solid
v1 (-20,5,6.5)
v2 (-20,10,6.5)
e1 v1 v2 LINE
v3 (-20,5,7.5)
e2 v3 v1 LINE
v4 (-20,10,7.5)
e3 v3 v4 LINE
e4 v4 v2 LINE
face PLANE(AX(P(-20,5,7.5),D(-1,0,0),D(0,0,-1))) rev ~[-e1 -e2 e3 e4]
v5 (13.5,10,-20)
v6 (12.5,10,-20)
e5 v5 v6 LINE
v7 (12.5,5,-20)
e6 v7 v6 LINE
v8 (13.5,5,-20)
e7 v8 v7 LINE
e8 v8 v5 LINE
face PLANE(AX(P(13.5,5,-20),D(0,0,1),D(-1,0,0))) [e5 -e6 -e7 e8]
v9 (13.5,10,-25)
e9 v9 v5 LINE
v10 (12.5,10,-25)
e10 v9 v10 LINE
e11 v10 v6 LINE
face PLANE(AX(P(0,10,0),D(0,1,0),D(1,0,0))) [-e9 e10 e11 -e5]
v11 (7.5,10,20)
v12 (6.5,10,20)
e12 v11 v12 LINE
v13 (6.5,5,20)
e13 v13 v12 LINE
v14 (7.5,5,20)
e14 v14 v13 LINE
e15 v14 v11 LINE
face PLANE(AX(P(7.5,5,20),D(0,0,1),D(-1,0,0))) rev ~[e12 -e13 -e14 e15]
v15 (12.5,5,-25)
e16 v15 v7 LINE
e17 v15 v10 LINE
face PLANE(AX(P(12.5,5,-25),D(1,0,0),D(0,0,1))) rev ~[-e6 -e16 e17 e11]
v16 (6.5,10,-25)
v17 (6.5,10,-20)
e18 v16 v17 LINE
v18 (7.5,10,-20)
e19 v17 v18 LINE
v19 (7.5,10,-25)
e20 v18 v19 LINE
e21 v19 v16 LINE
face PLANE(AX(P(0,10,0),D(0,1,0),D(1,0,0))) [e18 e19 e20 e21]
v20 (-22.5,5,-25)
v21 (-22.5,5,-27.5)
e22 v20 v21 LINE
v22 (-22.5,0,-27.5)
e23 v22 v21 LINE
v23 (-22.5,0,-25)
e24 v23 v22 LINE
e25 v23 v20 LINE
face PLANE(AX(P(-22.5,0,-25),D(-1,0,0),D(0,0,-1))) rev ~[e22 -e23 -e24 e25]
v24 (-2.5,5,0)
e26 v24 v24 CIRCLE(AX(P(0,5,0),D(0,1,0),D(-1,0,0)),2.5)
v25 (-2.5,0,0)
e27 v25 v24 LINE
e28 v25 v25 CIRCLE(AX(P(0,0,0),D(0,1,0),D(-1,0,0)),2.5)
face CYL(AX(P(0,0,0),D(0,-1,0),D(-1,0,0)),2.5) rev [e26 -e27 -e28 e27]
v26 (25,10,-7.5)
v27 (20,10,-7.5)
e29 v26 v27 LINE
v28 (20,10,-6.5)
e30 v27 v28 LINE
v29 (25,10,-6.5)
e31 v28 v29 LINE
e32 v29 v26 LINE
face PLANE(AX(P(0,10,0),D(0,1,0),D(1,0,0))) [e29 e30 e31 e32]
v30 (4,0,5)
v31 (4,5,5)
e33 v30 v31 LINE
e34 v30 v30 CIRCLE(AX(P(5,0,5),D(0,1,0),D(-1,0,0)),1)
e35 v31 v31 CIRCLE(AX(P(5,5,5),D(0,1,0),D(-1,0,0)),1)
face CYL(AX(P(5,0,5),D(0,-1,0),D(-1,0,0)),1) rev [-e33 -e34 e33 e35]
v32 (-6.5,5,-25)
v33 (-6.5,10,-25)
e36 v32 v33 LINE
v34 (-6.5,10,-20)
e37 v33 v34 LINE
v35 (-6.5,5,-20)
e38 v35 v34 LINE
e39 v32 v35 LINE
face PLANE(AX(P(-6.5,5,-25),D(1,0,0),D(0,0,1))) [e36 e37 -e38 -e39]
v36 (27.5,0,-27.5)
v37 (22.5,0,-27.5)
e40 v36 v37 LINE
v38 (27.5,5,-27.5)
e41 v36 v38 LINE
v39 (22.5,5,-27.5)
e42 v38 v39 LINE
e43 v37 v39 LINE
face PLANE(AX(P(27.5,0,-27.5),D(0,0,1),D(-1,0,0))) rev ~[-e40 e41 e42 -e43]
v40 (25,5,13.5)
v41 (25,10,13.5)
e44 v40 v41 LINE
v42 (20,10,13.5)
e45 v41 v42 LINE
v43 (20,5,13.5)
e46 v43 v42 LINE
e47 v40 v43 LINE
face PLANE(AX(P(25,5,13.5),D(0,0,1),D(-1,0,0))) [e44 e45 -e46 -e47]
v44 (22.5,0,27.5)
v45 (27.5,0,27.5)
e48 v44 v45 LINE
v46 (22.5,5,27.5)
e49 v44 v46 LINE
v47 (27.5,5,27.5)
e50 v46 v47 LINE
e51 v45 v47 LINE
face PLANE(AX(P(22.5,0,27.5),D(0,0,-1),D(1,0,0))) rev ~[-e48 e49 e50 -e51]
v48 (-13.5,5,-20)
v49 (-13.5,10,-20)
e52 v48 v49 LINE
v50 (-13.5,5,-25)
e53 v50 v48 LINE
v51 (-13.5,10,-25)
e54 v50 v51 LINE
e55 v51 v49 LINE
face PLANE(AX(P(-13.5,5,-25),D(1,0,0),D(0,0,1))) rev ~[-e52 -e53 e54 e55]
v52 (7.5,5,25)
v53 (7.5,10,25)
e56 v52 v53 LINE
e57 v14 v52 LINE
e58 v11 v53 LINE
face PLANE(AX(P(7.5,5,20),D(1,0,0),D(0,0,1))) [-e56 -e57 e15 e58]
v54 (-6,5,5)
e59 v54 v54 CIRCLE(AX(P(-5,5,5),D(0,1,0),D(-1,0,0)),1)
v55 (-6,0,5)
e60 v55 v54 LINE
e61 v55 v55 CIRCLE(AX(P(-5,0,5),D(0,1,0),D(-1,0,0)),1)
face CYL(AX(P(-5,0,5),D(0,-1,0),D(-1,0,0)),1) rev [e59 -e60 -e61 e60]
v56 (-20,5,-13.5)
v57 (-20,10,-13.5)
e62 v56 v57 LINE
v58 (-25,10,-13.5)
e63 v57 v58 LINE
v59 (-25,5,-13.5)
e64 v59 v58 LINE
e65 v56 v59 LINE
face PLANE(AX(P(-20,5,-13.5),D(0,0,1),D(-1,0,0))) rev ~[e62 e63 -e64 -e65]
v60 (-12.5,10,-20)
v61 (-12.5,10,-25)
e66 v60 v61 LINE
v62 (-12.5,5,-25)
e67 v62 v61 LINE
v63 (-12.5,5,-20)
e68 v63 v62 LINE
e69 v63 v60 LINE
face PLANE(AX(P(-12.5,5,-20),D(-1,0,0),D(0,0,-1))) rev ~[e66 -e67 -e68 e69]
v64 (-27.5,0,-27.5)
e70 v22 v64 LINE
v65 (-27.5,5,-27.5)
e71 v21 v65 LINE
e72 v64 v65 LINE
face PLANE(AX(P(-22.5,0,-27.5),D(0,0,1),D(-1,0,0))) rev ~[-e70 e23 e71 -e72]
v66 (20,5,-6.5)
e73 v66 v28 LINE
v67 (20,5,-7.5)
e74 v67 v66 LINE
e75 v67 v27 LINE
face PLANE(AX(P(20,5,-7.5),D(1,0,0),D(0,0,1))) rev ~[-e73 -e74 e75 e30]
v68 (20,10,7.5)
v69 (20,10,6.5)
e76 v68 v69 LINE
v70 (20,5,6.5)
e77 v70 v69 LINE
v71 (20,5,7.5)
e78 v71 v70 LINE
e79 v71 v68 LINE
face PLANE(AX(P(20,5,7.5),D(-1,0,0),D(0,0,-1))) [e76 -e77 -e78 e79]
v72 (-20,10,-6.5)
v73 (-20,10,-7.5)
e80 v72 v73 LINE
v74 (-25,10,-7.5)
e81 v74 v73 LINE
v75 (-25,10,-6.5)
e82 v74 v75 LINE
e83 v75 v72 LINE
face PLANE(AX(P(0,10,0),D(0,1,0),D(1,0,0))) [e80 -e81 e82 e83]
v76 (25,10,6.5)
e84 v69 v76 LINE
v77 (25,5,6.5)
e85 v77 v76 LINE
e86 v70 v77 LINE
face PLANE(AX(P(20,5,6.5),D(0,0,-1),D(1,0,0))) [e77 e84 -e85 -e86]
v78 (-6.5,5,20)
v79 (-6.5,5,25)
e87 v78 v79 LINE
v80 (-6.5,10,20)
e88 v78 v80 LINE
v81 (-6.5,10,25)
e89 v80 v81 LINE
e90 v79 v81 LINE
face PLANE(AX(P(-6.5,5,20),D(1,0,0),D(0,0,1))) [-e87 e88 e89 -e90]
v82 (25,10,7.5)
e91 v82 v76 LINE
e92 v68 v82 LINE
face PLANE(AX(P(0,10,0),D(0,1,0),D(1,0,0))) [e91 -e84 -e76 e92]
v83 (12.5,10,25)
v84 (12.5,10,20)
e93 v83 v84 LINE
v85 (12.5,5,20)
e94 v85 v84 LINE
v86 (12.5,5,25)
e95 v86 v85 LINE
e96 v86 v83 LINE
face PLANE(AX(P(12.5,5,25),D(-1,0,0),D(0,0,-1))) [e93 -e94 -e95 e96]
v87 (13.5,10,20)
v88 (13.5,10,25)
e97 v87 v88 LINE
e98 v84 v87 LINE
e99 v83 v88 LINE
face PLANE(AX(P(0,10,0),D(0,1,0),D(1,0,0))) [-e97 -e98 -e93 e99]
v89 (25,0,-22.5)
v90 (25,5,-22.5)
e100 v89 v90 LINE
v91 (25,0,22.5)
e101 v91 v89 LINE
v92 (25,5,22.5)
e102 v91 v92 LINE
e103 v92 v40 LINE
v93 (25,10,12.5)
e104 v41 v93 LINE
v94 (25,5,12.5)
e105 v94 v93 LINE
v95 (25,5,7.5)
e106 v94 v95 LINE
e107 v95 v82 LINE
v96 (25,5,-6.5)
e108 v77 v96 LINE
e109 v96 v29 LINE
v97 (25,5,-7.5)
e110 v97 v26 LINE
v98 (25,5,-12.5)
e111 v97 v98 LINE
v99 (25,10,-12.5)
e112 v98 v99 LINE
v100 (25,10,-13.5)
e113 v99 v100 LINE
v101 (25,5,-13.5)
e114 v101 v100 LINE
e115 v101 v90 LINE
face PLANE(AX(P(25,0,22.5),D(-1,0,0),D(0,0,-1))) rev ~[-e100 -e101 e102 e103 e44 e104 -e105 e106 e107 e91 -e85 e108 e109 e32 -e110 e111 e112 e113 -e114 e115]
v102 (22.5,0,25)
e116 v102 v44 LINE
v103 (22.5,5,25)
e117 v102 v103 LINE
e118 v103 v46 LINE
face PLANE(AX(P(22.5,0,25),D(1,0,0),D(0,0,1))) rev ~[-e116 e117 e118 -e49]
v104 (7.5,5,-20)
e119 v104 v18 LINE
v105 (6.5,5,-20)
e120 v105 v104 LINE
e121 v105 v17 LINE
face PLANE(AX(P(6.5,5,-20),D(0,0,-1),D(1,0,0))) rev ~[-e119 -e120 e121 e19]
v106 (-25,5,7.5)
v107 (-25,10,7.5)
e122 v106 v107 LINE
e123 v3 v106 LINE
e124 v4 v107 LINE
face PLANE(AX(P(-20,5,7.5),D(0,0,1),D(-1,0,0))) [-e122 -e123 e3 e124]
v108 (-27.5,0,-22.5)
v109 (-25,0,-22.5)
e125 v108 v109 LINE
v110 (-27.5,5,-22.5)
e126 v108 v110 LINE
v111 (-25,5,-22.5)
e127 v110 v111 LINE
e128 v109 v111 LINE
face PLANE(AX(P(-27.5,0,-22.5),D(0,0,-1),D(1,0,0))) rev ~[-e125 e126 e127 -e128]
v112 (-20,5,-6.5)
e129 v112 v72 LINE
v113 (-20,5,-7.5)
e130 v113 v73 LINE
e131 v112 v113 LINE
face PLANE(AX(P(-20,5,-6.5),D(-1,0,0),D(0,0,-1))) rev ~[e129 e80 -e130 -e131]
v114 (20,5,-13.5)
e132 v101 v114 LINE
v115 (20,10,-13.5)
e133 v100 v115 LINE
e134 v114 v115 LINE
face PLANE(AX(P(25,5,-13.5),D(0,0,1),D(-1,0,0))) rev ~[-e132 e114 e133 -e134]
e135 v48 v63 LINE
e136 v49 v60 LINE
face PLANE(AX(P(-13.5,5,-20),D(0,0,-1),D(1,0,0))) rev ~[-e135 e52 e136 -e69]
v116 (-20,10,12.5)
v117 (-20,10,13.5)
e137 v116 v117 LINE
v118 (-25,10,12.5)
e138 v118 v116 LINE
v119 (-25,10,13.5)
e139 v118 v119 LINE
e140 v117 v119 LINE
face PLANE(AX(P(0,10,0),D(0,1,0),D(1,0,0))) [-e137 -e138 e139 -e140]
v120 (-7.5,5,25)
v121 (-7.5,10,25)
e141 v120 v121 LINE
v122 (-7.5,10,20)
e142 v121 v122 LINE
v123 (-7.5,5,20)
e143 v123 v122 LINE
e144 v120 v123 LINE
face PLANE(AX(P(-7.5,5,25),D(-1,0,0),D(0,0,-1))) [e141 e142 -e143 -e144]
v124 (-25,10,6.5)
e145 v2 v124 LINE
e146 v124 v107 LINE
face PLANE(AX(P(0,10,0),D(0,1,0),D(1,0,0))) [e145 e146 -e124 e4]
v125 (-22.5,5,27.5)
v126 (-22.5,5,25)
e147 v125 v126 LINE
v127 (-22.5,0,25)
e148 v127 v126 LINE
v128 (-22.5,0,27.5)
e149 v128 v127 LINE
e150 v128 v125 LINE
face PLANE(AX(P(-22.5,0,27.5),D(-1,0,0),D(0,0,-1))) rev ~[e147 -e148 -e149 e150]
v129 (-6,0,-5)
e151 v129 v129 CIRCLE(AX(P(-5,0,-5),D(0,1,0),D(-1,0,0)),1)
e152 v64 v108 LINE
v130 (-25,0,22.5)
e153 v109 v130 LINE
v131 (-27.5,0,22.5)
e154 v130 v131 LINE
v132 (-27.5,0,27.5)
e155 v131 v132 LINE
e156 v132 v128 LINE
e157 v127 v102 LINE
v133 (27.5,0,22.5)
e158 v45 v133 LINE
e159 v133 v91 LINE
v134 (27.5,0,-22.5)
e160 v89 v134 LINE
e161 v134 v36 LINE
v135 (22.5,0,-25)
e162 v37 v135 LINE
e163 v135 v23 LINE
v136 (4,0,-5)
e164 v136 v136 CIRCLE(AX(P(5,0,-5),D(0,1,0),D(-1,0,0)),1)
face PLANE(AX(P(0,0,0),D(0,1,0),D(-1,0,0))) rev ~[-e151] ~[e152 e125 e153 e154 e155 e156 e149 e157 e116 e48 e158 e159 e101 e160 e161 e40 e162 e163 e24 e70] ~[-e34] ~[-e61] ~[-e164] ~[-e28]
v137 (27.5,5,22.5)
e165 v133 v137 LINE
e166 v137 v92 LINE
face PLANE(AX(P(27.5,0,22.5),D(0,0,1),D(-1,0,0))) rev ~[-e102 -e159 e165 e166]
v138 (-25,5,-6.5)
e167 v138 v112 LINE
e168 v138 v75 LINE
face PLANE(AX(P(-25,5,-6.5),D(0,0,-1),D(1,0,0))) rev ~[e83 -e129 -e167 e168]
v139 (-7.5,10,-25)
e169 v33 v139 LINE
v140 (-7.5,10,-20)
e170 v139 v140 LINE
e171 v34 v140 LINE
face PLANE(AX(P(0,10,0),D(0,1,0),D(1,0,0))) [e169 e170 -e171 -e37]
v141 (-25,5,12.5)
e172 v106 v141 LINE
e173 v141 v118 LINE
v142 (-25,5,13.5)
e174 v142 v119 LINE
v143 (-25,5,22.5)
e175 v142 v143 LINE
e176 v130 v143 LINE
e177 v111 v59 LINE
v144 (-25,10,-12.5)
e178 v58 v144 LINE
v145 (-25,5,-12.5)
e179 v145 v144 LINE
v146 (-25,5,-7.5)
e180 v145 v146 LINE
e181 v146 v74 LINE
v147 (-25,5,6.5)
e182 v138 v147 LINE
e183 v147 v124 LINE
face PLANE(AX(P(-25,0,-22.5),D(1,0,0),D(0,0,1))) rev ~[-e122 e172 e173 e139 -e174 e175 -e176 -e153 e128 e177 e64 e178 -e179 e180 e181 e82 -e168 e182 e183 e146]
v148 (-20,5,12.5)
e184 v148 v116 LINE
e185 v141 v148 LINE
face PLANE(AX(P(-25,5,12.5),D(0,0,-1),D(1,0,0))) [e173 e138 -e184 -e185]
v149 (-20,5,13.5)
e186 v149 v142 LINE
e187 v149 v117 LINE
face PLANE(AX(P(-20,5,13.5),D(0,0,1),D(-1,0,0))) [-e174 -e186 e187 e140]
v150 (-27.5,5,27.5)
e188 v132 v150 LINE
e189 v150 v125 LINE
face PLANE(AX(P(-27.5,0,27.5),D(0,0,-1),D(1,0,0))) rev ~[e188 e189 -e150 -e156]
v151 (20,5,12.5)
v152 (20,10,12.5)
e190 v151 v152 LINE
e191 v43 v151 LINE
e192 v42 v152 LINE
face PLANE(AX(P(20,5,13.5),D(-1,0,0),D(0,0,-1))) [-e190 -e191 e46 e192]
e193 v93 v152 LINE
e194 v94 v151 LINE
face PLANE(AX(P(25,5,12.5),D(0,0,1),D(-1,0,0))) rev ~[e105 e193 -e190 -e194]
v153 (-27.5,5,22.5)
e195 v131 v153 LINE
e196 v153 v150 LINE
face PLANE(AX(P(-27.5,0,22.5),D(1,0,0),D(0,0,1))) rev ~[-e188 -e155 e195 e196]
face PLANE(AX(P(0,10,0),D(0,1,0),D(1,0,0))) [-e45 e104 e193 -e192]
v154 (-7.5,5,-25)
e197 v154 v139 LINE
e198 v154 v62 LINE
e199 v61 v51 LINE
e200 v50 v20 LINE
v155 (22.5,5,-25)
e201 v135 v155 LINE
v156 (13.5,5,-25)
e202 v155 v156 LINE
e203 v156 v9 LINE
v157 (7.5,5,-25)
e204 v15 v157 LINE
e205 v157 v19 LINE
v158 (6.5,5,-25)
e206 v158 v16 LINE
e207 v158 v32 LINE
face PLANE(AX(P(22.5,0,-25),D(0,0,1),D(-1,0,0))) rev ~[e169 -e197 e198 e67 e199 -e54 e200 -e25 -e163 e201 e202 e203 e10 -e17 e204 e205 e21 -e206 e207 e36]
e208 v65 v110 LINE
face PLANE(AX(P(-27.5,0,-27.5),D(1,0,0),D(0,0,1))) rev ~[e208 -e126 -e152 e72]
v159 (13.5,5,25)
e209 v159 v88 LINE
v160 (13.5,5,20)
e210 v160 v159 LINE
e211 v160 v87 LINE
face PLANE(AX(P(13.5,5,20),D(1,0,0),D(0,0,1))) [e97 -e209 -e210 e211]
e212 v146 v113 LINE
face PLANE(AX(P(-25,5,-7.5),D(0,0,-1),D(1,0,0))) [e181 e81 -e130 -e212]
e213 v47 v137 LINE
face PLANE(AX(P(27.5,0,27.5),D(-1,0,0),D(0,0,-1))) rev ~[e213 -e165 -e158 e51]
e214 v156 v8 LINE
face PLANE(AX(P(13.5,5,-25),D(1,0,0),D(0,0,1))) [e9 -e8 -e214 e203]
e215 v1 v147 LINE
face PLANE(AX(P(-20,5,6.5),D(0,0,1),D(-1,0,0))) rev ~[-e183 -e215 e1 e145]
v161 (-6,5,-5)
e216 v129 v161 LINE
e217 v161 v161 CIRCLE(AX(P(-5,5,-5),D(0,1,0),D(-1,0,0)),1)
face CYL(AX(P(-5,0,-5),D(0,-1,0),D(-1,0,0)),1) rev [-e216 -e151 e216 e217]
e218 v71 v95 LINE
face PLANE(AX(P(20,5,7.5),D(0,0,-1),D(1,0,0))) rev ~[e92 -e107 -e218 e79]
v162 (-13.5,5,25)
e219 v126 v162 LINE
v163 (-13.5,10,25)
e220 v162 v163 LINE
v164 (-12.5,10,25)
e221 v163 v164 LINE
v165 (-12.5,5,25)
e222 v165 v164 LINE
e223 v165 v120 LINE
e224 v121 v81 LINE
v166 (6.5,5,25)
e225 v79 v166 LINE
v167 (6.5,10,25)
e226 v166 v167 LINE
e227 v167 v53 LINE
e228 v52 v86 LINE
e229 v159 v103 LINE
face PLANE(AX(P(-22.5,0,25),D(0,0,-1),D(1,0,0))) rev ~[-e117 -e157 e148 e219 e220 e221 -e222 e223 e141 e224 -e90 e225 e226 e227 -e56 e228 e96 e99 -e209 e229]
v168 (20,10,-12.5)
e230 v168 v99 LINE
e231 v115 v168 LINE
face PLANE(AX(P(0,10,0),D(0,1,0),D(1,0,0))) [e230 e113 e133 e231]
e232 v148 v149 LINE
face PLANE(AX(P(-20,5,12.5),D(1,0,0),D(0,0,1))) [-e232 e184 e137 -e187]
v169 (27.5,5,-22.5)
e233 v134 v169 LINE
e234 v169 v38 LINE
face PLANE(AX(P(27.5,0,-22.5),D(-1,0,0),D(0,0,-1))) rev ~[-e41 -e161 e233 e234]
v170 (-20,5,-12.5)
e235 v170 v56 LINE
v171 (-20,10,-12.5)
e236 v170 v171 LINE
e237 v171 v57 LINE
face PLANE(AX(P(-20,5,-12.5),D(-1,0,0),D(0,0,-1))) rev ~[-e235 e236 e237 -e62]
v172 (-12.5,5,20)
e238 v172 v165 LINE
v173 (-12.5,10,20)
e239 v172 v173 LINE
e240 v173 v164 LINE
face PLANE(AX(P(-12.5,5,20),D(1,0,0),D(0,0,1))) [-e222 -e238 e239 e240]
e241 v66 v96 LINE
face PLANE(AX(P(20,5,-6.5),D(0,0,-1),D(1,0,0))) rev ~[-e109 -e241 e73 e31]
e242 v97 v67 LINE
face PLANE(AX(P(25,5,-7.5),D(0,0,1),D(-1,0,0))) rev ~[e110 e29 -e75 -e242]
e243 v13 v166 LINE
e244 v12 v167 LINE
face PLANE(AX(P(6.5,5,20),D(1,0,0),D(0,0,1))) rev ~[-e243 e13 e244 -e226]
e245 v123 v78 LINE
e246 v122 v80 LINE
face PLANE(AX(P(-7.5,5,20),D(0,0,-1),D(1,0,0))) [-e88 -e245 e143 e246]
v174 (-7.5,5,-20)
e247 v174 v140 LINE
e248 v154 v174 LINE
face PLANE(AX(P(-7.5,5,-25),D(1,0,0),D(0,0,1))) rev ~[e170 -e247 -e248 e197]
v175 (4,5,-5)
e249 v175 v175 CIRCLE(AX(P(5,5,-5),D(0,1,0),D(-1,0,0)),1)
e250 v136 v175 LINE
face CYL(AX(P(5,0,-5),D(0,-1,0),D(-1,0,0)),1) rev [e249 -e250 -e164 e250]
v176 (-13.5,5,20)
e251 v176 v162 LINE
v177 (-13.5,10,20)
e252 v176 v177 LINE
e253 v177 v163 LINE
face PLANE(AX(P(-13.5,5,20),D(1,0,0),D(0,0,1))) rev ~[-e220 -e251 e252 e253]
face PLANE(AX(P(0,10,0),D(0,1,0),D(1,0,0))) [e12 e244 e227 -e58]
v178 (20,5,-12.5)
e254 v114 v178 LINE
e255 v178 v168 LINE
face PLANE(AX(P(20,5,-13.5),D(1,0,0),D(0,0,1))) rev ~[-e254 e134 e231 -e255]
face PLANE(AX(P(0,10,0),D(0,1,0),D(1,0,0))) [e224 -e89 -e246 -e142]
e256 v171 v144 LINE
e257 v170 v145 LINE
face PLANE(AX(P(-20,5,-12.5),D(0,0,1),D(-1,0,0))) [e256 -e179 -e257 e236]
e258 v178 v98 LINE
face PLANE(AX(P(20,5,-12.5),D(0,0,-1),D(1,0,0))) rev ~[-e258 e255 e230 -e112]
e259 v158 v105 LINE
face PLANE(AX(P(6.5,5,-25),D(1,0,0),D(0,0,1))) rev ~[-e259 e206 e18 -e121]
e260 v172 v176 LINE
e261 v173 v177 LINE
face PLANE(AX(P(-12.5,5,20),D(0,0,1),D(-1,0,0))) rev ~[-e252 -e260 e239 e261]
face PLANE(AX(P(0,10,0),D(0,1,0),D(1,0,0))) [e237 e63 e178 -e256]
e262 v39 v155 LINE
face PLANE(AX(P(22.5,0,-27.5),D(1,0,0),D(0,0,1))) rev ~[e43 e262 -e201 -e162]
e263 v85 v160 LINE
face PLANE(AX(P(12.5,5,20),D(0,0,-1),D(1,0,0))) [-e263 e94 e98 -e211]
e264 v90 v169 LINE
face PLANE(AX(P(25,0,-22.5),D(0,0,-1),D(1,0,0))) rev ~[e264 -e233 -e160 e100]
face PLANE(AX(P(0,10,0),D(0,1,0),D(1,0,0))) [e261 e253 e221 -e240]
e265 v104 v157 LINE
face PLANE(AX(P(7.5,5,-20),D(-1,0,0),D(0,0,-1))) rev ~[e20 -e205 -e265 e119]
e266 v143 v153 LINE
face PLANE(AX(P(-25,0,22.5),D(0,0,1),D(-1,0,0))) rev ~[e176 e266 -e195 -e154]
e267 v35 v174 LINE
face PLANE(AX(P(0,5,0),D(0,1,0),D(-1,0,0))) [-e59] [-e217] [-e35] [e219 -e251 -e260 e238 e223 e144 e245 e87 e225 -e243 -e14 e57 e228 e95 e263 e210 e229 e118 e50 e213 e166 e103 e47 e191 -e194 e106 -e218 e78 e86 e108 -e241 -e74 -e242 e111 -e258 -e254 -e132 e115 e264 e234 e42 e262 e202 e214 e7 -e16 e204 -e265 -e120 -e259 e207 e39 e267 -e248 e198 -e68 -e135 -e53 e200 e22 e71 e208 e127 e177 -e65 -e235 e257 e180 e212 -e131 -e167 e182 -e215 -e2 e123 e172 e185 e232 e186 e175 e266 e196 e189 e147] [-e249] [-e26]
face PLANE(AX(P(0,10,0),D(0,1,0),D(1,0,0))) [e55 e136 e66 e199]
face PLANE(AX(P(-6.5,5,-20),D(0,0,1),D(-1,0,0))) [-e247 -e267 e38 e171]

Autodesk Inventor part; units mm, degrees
ref_plane "YZ Plane" through (0, 0, 0) normal (1, 0, 0) x (0, 1, 0)
ref_plane "XZ Plane" through (0, 0, 0) normal (0, 1, 0) x (-1, 0, 0)
ref_plane "XY Plane" through (0, 0, 0) normal (0, 0, 1) x (1, 0, 0)
sketch "Sketch1" plane through (0, 0, 0) normal (0, 1, 0) x (-1, 0, 0)
  line L0 (-25, -25) -> (25, -25)
  line L1 (25, -25) -> (25, 25)
  line L2 (25, 25) -> (-25, 25)
  line L3 (-25, 25) -> (-25, -25)
  line L4 (-25, -25) -> (25, 25) construction
  line L5 (25, -25) -> (-25, 25) construction
  circle A0 centre (0, 0) radius 2.5
  line L6 (-22.5, -22.5) -> (-27.5, -22.5)
  line L7 (-27.5, -22.5) -> (-27.5, -27.5)
  line L8 (-27.5, -27.5) -> (-22.5, -27.5)
  line L9 (-22.5, -27.5) -> (-22.5, -22.5)
  line L10 (-22.5, -22.5) -> (-27.5, -27.5) construction
  line L11 (-27.5, -22.5) -> (-22.5, -27.5) construction
  line L12 (27.5, -22.5) -> (22.5, -22.5)
  line L13 (22.5, -22.5) -> (22.5, -27.5)
  line L14 (22.5, -27.5) -> (27.5, -27.5)
  line L15 (27.5, -27.5) -> (27.5, -22.5)
  line L16 (27.5, -22.5) -> (22.5, -27.5) construction
  line L17 (22.5, -22.5) -> (27.5, -27.5) construction
  line L18 (27.5, 27.5) -> (22.5, 27.5)
  line L19 (22.5, 27.5) -> (22.5, 22.5)
  line L20 (22.5, 22.5) -> (27.5, 22.5)
  line L21 (27.5, 22.5) -> (27.5, 27.5)
  line L22 (27.5, 27.5) -> (22.5, 22.5) construction
  line L23 (22.5, 27.5) -> (27.5, 22.5) construction
  line L24 (-22.5, 27.5) -> (-27.5, 27.5)
  line L25 (-27.5, 27.5) -> (-27.5, 22.5)
  line L26 (-27.5, 22.5) -> (-22.5, 22.5)
  line L27 (-22.5, 22.5) -> (-22.5, 27.5)
  line L28 (-22.5, 27.5) -> (-27.5, 22.5) construction
  line L29 (-27.5, 27.5) -> (-22.5, 22.5) construction
  circle A1 centre (5, -5) radius 1
  circle A2 centre (5, 5) radius 1
  circle A3 centre (-5, 5) radius 1
  circle A4 centre (-5, -5) radius 1
  point P0 (25, -22.5)
  point P1 (22.5, -25)
  point P2 (-22.5, -25)
  point P3 (-25, -22.5)
  point P4 (-25, 22.5)
  point P5 (-22.5, 25)
  point P6 (22.5, 25)
  point P7 (25, 22.5)
  point P8 (0, -25)
  point P9 (25, 0)
  point P10 (0, 25)
  point P11 (-25, 0)
  dimension "d0" = 50
  dimension "d1" = 50
  dimension "d45" = 5
  dimension "d46" = 5
  dimension "d47" = 5
  dimension "d48" = 5
  dimension "d49" = 5
  dimension "d50" = 5
  dimension "d51" = 5
  dimension "d52" = 5
  dimension "d53" = 5
  dimension "d82" = 2
  dimension "d83" = 2
  dimension "d84" = 2
  dimension "d85" = 2
  dimension "d86" = 5
  dimension "d87" = 5
  dimension "d88" = 5
  dimension "d89" = 5
  dimension "d90" = 5
  dimension "d91" = 5
  dimension "d92" = 5
  dimension "d93" = 5
extrude "Extrusion1" add sketch "Sketch1" along normal blind 5
sketch "Sketch2" plane through (0, 5, 0) normal (0, 1, 0) x (1, 0, 0)
  line L0 (-25, 22.5) -> (-25, -22.5) projected
  line L1 (-22.5, -25) -> (22.5, -25) projected
  line L2 (25, -22.5) -> (25, 22.5) projected
  line L3 (22.5, 25) -> (-22.5, 25) projected
  line L4 (25, -12.5) -> (20, -12.5)
  line L5 (20, -12.5) -> (20, -7.5)
  line L6 (20, -7.5) -> (25, -7.5)
  line L7 (25, -7.5) -> (25, -12.5)
  line L8 (25, -22.5) -> (25, 22.5) projected
  line L9 (25, 7.5) -> (20, 7.5)
  line L10 (20, 7.5) -> (20, 12.5)
  line L11 (20, 12.5) -> (25, 12.5)
  line L12 (25, 12.5) -> (25, 7.5)
  line L13 (-25, -12.5) -> (-20, -12.5)
  line L14 (-20, -12.5) -> (-20, -7.5)
  line L15 (-20, -7.5) -> (-25, -7.5)
  line L16 (-25, -7.5) -> (-25, -12.5)
  line L17 (-25, 22.5) -> (-25, -22.5) projected
  line L18 (-25, 7.5) -> (-20, 7.5)
  line L19 (-20, 7.5) -> (-20, 12.5)
  line L20 (-20, 12.5) -> (-25, 12.5)
  line L21 (-25, 12.5) -> (-25, 7.5)
  line L22 (-22.5, -25) -> (22.5, -25) projected
  line L23 (-25, 12.5) -> (-20, 12.5)
  line L24 (-20, 12.5) -> (-20, 13.5)
  line L25 (-20, 13.5) -> (-25, 13.5)
  line L26 (-25, 13.5) -> (-25, 12.5)
  line L27 (20, 12.5) -> (25, 12.5)
  line L28 (25, 12.5) -> (25, 13.5)
  line L29 (25, 13.5) -> (20, 13.5)
  line L30 (20, 13.5) -> (20, 12.5)
  line L31 (25, 7.5) -> (20, 7.5)
  line L32 (20, 7.5) -> (20, 6.5)
  line L33 (20, 6.5) -> (25, 6.5)
  line L34 (25, 6.5) -> (25, 7.5)
  line L35 (-20, 7.5) -> (-25, 7.5)
  line L36 (-25, 7.5) -> (-25, 6.5)
  line L37 (-25, 6.5) -> (-20, 6.5)
  line L38 (-20, 6.5) -> (-20, 7.5)
  line L39 (-25, -7.5) -> (-20, -7.5)
  line L40 (-20, -7.5) -> (-20, -6.5)
  line L41 (-20, -6.5) -> (-25, -6.5)
  line L42 (-25, -6.5) -> (-25, -7.5)
  line L43 (-25, -12.5) -> (-20, -12.5)
  line L44 (-20, -12.5) -> (-20, -13.5)
  line L45 (-20, -13.5) -> (-25, -13.5)
  line L46 (-25, -13.5) -> (-25, -12.5)
  line L47 (25, -7.5) -> (20, -7.5)
  line L48 (20, -7.5) -> (20, -6.5)
  line L49 (20, -6.5) -> (25, -6.5)
  line L50 (25, -6.5) -> (25, -7.5)
  line L51 (20, -12.5) -> (25, -12.5)
  line L52 (25, -12.5) -> (25, -13.5)
  line L53 (25, -13.5) -> (20, -13.5)
  line L54 (20, -13.5) -> (20, -12.5)
  line L55 (-25, -22.5) -> (-27.5, -22.5) projected
  line L56 (-27.5, -22.5) -> (-27.5, -27.5) projected
  line L57 (-27.5, -27.5) -> (-22.5, -27.5) projected
  line L58 (-22.5, -27.5) -> (-22.5, -25) projected
  line L59 (22.5, -25) -> (22.5, -27.5) projected
  line L60 (22.5, -27.5) -> (27.5, -27.5) projected
  line L61 (27.5, -27.5) -> (27.5, -22.5) projected
  line L62 (27.5, -22.5) -> (25, -22.5) projected
  line L63 (25, 22.5) -> (27.5, 22.5) projected
  line L64 (27.5, 22.5) -> (27.5, 27.5) projected
  line L65 (27.5, 27.5) -> (22.5, 27.5) projected
  line L66 (22.5, 27.5) -> (22.5, 25) projected
  line L67 (-22.5, 25) -> (-22.5, 27.5) projected
  line L68 (-22.5, 27.5) -> (-27.5, 27.5) projected
  line L69 (-27.5, 27.5) -> (-27.5, 22.5) projected
  line L70 (-27.5, 22.5) -> (-25, 22.5) projected
  line L71 (-12.5, 25) -> (-7.5, 25)
  line L72 (-7.5, 25) -> (-7.5, 20)
  line L73 (-7.5, 20) -> (-12.5, 20)
  line L74 (-12.5, 20) -> (-12.5, 25)
  line L75 (7.5, 25) -> (12.5, 25)
  line L76 (12.5, 25) -> (12.5, 20)
  line L77 (12.5, 20) -> (7.5, 20)
  line L78 (7.5, 20) -> (7.5, 25)
  line L79 (-12.5, -25) -> (-7.5, -25)
  line L80 (-7.5, -25) -> (-7.5, -20)
  line L81 (-7.5, -20) -> (-12.5, -20)
  line L82 (-12.5, -20) -> (-12.5, -25)
  line L83 (7.5, -25) -> (12.5, -25)
  line L84 (12.5, -25) -> (12.5, -20)
  line L85 (12.5, -20) -> (7.5, -20)
  line L86 (7.5, -20) -> (7.5, -25)
  line L87 (22.5, 25) -> (-22.5, 25) projected
  line L88 (-12.5, -20) -> (-13.5, -20)
  line L89 (-13.5, -20) -> (-13.5, -25)
  line L90 (-13.5, -25) -> (-12.5, -25)
  line L91 (-12.5, -25) -> (-12.5, -20)
  line L92 (-7.5, -20) -> (-6.5, -20)
  line L93 (-6.5, -20) -> (-6.5, -25)
  line L94 (-6.5, -25) -> (-7.5, -25)
  line L95 (-7.5, -25) -> (-7.5, -20)
  line L96 (7.5, -20) -> (6.5, -20)
  line L97 (6.5, -20) -> (6.5, -25)
  line L98 (6.5, -25) -> (7.5, -25)
  line L99 (7.5, -25) -> (7.5, -20)
  line L100 (12.5, -20) -> (13.5, -20)
  line L101 (13.5, -20) -> (13.5, -25)
  line L102 (13.5, -25) -> (12.5, -25)
  line L103 (12.5, -25) -> (12.5, -20)
  line L104 (-7.5, 25) -> (-6.5, 25)
  line L105 (-6.5, 25) -> (-6.5, 20)
  line L106 (-6.5, 20) -> (-7.5, 20)
  line L107 (-7.5, 20) -> (-7.5, 25)
  line L108 (7.5, 25) -> (6.5, 25)
  line L109 (6.5, 25) -> (6.5, 20)
  line L110 (6.5, 20) -> (7.5, 20)
  line L111 (7.5, 20) -> (7.5, 25)
  line L112 (12.5, 25) -> (13.5, 25)
  line L113 (13.5, 25) -> (13.5, 20)
  line L114 (13.5, 20) -> (12.5, 20)
  line L115 (12.5, 20) -> (12.5, 25)
  line L116 (-12.5, 25) -> (-13.5, 25)
  line L117 (-13.5, 25) -> (-13.5, 20)
  line L118 (-13.5, 20) -> (-12.5, 20)
  line L119 (-12.5, 20) -> (-12.5, 25)
  point P0 (0, 0)
  point P1 (-25, 25)
  point P2 (-25, -25)
  point P3 (25, -25)
  point P4 (25, 25)
  point P5 (20, -10)
  point P6 (20, 10)
  point P7 (-25, 10)
  point P8 (-25, -10)
  point P9 (-25, 6.5)
  point P10 (-25, 13.5)
  point P11 (25, 13.5)
  point P12 (25, 6.5)
  point P13 (25, -13.5)
  point P14 (-25, -13.5)
  point P15 (25, 10)
  point P16 (-25, 0)
  point P17 (0, -25)
  point P18 (-10, -25)
  point P19 (10, -25)
  point P20 (0, 25)
  point P21 (10, 25)
  point P22 (-10, 25)
  point P23 (0, 25)
  dimension "d9" = 5
  dimension "d10" = 5
  dimension "d11" = 5
  dimension "d12" = 5
  dimension "d13" = 5
  dimension "d14" = 5
  dimension "d15" = 5
  dimension "d16" = 5
  dimension "d21" = 5
  dimension "d22" = 1
  dimension "d23" = 5
  dimension "d24" = 1
  dimension "d25" = 5
  dimension "d26" = 1
  dimension "d27" = 5
  dimension "d28" = 1
  dimension "d29" = 5
  dimension "d30" = 1
  dimension "d31" = 5
  dimension "d32" = 1
  dimension "d33" = 5
  dimension "d34" = 1
  dimension "d35" = 5
  dimension "d36" = 1
  dimension "d43" = 10
  dimension "d54" = 5
  dimension "d55" = 5
  dimension "d56" = 5
  dimension "d57" = 5
  dimension "d58" = 5
  dimension "d59" = 5
  dimension "d60" = 5
  dimension "d61" = 5
  dimension "d62" = 10
  dimension "d63" = 10
  dimension "d64" = 10
  dimension "d65" = 10
  dimension "d66" = 1
  dimension "d67" = 5
  dimension "d68" = 1
  dimension "d69" = 5
  dimension "d70" = 1
  dimension "d71" = 5
  dimension "d72" = 1
  dimension "d73" = 5
  dimension "d74" = 1
  dimension "d75" = 5
  dimension "d76" = 1
  dimension "d77" = 5
  dimension "d78" = 1
  dimension "d79" = 5
  dimension "d80" = 1
  dimension "d81" = 5
extrude "Extrusion2" add sketch "Sketch2" along normal blind 5 contours L25 L24 L20 L0 | L18 L38 L37 L0 | L41 L40 L15 L0 | L3 L74 L118 L117 | L13 L44 L45 L0 | L3 L105 L106 L72 | L3 L78 L110 L109 | L3 L113 L114 L76 | L89 L88 L82 L1 | L80 L92 L93 L1 | L97 L96 L86 L1 | L2 L11 L30 L29 | L84 L100 L101 L1 | L2 L33 L32 L9 | L2 L6 L48 L49 | L2 L53 L54 L4
equation "\"BendRadius\" = Thickness"
equation "\"BendReliefWidth\" = Thickness"
equation "\"BendReliefDepth\" = 0.5 * Thickness"
equation "\"CornerReliefSize\" = 4 * Thickness"
equation "\"MinimumRemnant\" = 2 * Thickness"
equation "\"TransitionRadius\" = BendRadius"
equation "\"JacobiRadiusSize\" = BendRadius"
equation "\"GapSize\" = Thickness"
equation "\"Thickness\" = 3.048"
properties part number "base"
